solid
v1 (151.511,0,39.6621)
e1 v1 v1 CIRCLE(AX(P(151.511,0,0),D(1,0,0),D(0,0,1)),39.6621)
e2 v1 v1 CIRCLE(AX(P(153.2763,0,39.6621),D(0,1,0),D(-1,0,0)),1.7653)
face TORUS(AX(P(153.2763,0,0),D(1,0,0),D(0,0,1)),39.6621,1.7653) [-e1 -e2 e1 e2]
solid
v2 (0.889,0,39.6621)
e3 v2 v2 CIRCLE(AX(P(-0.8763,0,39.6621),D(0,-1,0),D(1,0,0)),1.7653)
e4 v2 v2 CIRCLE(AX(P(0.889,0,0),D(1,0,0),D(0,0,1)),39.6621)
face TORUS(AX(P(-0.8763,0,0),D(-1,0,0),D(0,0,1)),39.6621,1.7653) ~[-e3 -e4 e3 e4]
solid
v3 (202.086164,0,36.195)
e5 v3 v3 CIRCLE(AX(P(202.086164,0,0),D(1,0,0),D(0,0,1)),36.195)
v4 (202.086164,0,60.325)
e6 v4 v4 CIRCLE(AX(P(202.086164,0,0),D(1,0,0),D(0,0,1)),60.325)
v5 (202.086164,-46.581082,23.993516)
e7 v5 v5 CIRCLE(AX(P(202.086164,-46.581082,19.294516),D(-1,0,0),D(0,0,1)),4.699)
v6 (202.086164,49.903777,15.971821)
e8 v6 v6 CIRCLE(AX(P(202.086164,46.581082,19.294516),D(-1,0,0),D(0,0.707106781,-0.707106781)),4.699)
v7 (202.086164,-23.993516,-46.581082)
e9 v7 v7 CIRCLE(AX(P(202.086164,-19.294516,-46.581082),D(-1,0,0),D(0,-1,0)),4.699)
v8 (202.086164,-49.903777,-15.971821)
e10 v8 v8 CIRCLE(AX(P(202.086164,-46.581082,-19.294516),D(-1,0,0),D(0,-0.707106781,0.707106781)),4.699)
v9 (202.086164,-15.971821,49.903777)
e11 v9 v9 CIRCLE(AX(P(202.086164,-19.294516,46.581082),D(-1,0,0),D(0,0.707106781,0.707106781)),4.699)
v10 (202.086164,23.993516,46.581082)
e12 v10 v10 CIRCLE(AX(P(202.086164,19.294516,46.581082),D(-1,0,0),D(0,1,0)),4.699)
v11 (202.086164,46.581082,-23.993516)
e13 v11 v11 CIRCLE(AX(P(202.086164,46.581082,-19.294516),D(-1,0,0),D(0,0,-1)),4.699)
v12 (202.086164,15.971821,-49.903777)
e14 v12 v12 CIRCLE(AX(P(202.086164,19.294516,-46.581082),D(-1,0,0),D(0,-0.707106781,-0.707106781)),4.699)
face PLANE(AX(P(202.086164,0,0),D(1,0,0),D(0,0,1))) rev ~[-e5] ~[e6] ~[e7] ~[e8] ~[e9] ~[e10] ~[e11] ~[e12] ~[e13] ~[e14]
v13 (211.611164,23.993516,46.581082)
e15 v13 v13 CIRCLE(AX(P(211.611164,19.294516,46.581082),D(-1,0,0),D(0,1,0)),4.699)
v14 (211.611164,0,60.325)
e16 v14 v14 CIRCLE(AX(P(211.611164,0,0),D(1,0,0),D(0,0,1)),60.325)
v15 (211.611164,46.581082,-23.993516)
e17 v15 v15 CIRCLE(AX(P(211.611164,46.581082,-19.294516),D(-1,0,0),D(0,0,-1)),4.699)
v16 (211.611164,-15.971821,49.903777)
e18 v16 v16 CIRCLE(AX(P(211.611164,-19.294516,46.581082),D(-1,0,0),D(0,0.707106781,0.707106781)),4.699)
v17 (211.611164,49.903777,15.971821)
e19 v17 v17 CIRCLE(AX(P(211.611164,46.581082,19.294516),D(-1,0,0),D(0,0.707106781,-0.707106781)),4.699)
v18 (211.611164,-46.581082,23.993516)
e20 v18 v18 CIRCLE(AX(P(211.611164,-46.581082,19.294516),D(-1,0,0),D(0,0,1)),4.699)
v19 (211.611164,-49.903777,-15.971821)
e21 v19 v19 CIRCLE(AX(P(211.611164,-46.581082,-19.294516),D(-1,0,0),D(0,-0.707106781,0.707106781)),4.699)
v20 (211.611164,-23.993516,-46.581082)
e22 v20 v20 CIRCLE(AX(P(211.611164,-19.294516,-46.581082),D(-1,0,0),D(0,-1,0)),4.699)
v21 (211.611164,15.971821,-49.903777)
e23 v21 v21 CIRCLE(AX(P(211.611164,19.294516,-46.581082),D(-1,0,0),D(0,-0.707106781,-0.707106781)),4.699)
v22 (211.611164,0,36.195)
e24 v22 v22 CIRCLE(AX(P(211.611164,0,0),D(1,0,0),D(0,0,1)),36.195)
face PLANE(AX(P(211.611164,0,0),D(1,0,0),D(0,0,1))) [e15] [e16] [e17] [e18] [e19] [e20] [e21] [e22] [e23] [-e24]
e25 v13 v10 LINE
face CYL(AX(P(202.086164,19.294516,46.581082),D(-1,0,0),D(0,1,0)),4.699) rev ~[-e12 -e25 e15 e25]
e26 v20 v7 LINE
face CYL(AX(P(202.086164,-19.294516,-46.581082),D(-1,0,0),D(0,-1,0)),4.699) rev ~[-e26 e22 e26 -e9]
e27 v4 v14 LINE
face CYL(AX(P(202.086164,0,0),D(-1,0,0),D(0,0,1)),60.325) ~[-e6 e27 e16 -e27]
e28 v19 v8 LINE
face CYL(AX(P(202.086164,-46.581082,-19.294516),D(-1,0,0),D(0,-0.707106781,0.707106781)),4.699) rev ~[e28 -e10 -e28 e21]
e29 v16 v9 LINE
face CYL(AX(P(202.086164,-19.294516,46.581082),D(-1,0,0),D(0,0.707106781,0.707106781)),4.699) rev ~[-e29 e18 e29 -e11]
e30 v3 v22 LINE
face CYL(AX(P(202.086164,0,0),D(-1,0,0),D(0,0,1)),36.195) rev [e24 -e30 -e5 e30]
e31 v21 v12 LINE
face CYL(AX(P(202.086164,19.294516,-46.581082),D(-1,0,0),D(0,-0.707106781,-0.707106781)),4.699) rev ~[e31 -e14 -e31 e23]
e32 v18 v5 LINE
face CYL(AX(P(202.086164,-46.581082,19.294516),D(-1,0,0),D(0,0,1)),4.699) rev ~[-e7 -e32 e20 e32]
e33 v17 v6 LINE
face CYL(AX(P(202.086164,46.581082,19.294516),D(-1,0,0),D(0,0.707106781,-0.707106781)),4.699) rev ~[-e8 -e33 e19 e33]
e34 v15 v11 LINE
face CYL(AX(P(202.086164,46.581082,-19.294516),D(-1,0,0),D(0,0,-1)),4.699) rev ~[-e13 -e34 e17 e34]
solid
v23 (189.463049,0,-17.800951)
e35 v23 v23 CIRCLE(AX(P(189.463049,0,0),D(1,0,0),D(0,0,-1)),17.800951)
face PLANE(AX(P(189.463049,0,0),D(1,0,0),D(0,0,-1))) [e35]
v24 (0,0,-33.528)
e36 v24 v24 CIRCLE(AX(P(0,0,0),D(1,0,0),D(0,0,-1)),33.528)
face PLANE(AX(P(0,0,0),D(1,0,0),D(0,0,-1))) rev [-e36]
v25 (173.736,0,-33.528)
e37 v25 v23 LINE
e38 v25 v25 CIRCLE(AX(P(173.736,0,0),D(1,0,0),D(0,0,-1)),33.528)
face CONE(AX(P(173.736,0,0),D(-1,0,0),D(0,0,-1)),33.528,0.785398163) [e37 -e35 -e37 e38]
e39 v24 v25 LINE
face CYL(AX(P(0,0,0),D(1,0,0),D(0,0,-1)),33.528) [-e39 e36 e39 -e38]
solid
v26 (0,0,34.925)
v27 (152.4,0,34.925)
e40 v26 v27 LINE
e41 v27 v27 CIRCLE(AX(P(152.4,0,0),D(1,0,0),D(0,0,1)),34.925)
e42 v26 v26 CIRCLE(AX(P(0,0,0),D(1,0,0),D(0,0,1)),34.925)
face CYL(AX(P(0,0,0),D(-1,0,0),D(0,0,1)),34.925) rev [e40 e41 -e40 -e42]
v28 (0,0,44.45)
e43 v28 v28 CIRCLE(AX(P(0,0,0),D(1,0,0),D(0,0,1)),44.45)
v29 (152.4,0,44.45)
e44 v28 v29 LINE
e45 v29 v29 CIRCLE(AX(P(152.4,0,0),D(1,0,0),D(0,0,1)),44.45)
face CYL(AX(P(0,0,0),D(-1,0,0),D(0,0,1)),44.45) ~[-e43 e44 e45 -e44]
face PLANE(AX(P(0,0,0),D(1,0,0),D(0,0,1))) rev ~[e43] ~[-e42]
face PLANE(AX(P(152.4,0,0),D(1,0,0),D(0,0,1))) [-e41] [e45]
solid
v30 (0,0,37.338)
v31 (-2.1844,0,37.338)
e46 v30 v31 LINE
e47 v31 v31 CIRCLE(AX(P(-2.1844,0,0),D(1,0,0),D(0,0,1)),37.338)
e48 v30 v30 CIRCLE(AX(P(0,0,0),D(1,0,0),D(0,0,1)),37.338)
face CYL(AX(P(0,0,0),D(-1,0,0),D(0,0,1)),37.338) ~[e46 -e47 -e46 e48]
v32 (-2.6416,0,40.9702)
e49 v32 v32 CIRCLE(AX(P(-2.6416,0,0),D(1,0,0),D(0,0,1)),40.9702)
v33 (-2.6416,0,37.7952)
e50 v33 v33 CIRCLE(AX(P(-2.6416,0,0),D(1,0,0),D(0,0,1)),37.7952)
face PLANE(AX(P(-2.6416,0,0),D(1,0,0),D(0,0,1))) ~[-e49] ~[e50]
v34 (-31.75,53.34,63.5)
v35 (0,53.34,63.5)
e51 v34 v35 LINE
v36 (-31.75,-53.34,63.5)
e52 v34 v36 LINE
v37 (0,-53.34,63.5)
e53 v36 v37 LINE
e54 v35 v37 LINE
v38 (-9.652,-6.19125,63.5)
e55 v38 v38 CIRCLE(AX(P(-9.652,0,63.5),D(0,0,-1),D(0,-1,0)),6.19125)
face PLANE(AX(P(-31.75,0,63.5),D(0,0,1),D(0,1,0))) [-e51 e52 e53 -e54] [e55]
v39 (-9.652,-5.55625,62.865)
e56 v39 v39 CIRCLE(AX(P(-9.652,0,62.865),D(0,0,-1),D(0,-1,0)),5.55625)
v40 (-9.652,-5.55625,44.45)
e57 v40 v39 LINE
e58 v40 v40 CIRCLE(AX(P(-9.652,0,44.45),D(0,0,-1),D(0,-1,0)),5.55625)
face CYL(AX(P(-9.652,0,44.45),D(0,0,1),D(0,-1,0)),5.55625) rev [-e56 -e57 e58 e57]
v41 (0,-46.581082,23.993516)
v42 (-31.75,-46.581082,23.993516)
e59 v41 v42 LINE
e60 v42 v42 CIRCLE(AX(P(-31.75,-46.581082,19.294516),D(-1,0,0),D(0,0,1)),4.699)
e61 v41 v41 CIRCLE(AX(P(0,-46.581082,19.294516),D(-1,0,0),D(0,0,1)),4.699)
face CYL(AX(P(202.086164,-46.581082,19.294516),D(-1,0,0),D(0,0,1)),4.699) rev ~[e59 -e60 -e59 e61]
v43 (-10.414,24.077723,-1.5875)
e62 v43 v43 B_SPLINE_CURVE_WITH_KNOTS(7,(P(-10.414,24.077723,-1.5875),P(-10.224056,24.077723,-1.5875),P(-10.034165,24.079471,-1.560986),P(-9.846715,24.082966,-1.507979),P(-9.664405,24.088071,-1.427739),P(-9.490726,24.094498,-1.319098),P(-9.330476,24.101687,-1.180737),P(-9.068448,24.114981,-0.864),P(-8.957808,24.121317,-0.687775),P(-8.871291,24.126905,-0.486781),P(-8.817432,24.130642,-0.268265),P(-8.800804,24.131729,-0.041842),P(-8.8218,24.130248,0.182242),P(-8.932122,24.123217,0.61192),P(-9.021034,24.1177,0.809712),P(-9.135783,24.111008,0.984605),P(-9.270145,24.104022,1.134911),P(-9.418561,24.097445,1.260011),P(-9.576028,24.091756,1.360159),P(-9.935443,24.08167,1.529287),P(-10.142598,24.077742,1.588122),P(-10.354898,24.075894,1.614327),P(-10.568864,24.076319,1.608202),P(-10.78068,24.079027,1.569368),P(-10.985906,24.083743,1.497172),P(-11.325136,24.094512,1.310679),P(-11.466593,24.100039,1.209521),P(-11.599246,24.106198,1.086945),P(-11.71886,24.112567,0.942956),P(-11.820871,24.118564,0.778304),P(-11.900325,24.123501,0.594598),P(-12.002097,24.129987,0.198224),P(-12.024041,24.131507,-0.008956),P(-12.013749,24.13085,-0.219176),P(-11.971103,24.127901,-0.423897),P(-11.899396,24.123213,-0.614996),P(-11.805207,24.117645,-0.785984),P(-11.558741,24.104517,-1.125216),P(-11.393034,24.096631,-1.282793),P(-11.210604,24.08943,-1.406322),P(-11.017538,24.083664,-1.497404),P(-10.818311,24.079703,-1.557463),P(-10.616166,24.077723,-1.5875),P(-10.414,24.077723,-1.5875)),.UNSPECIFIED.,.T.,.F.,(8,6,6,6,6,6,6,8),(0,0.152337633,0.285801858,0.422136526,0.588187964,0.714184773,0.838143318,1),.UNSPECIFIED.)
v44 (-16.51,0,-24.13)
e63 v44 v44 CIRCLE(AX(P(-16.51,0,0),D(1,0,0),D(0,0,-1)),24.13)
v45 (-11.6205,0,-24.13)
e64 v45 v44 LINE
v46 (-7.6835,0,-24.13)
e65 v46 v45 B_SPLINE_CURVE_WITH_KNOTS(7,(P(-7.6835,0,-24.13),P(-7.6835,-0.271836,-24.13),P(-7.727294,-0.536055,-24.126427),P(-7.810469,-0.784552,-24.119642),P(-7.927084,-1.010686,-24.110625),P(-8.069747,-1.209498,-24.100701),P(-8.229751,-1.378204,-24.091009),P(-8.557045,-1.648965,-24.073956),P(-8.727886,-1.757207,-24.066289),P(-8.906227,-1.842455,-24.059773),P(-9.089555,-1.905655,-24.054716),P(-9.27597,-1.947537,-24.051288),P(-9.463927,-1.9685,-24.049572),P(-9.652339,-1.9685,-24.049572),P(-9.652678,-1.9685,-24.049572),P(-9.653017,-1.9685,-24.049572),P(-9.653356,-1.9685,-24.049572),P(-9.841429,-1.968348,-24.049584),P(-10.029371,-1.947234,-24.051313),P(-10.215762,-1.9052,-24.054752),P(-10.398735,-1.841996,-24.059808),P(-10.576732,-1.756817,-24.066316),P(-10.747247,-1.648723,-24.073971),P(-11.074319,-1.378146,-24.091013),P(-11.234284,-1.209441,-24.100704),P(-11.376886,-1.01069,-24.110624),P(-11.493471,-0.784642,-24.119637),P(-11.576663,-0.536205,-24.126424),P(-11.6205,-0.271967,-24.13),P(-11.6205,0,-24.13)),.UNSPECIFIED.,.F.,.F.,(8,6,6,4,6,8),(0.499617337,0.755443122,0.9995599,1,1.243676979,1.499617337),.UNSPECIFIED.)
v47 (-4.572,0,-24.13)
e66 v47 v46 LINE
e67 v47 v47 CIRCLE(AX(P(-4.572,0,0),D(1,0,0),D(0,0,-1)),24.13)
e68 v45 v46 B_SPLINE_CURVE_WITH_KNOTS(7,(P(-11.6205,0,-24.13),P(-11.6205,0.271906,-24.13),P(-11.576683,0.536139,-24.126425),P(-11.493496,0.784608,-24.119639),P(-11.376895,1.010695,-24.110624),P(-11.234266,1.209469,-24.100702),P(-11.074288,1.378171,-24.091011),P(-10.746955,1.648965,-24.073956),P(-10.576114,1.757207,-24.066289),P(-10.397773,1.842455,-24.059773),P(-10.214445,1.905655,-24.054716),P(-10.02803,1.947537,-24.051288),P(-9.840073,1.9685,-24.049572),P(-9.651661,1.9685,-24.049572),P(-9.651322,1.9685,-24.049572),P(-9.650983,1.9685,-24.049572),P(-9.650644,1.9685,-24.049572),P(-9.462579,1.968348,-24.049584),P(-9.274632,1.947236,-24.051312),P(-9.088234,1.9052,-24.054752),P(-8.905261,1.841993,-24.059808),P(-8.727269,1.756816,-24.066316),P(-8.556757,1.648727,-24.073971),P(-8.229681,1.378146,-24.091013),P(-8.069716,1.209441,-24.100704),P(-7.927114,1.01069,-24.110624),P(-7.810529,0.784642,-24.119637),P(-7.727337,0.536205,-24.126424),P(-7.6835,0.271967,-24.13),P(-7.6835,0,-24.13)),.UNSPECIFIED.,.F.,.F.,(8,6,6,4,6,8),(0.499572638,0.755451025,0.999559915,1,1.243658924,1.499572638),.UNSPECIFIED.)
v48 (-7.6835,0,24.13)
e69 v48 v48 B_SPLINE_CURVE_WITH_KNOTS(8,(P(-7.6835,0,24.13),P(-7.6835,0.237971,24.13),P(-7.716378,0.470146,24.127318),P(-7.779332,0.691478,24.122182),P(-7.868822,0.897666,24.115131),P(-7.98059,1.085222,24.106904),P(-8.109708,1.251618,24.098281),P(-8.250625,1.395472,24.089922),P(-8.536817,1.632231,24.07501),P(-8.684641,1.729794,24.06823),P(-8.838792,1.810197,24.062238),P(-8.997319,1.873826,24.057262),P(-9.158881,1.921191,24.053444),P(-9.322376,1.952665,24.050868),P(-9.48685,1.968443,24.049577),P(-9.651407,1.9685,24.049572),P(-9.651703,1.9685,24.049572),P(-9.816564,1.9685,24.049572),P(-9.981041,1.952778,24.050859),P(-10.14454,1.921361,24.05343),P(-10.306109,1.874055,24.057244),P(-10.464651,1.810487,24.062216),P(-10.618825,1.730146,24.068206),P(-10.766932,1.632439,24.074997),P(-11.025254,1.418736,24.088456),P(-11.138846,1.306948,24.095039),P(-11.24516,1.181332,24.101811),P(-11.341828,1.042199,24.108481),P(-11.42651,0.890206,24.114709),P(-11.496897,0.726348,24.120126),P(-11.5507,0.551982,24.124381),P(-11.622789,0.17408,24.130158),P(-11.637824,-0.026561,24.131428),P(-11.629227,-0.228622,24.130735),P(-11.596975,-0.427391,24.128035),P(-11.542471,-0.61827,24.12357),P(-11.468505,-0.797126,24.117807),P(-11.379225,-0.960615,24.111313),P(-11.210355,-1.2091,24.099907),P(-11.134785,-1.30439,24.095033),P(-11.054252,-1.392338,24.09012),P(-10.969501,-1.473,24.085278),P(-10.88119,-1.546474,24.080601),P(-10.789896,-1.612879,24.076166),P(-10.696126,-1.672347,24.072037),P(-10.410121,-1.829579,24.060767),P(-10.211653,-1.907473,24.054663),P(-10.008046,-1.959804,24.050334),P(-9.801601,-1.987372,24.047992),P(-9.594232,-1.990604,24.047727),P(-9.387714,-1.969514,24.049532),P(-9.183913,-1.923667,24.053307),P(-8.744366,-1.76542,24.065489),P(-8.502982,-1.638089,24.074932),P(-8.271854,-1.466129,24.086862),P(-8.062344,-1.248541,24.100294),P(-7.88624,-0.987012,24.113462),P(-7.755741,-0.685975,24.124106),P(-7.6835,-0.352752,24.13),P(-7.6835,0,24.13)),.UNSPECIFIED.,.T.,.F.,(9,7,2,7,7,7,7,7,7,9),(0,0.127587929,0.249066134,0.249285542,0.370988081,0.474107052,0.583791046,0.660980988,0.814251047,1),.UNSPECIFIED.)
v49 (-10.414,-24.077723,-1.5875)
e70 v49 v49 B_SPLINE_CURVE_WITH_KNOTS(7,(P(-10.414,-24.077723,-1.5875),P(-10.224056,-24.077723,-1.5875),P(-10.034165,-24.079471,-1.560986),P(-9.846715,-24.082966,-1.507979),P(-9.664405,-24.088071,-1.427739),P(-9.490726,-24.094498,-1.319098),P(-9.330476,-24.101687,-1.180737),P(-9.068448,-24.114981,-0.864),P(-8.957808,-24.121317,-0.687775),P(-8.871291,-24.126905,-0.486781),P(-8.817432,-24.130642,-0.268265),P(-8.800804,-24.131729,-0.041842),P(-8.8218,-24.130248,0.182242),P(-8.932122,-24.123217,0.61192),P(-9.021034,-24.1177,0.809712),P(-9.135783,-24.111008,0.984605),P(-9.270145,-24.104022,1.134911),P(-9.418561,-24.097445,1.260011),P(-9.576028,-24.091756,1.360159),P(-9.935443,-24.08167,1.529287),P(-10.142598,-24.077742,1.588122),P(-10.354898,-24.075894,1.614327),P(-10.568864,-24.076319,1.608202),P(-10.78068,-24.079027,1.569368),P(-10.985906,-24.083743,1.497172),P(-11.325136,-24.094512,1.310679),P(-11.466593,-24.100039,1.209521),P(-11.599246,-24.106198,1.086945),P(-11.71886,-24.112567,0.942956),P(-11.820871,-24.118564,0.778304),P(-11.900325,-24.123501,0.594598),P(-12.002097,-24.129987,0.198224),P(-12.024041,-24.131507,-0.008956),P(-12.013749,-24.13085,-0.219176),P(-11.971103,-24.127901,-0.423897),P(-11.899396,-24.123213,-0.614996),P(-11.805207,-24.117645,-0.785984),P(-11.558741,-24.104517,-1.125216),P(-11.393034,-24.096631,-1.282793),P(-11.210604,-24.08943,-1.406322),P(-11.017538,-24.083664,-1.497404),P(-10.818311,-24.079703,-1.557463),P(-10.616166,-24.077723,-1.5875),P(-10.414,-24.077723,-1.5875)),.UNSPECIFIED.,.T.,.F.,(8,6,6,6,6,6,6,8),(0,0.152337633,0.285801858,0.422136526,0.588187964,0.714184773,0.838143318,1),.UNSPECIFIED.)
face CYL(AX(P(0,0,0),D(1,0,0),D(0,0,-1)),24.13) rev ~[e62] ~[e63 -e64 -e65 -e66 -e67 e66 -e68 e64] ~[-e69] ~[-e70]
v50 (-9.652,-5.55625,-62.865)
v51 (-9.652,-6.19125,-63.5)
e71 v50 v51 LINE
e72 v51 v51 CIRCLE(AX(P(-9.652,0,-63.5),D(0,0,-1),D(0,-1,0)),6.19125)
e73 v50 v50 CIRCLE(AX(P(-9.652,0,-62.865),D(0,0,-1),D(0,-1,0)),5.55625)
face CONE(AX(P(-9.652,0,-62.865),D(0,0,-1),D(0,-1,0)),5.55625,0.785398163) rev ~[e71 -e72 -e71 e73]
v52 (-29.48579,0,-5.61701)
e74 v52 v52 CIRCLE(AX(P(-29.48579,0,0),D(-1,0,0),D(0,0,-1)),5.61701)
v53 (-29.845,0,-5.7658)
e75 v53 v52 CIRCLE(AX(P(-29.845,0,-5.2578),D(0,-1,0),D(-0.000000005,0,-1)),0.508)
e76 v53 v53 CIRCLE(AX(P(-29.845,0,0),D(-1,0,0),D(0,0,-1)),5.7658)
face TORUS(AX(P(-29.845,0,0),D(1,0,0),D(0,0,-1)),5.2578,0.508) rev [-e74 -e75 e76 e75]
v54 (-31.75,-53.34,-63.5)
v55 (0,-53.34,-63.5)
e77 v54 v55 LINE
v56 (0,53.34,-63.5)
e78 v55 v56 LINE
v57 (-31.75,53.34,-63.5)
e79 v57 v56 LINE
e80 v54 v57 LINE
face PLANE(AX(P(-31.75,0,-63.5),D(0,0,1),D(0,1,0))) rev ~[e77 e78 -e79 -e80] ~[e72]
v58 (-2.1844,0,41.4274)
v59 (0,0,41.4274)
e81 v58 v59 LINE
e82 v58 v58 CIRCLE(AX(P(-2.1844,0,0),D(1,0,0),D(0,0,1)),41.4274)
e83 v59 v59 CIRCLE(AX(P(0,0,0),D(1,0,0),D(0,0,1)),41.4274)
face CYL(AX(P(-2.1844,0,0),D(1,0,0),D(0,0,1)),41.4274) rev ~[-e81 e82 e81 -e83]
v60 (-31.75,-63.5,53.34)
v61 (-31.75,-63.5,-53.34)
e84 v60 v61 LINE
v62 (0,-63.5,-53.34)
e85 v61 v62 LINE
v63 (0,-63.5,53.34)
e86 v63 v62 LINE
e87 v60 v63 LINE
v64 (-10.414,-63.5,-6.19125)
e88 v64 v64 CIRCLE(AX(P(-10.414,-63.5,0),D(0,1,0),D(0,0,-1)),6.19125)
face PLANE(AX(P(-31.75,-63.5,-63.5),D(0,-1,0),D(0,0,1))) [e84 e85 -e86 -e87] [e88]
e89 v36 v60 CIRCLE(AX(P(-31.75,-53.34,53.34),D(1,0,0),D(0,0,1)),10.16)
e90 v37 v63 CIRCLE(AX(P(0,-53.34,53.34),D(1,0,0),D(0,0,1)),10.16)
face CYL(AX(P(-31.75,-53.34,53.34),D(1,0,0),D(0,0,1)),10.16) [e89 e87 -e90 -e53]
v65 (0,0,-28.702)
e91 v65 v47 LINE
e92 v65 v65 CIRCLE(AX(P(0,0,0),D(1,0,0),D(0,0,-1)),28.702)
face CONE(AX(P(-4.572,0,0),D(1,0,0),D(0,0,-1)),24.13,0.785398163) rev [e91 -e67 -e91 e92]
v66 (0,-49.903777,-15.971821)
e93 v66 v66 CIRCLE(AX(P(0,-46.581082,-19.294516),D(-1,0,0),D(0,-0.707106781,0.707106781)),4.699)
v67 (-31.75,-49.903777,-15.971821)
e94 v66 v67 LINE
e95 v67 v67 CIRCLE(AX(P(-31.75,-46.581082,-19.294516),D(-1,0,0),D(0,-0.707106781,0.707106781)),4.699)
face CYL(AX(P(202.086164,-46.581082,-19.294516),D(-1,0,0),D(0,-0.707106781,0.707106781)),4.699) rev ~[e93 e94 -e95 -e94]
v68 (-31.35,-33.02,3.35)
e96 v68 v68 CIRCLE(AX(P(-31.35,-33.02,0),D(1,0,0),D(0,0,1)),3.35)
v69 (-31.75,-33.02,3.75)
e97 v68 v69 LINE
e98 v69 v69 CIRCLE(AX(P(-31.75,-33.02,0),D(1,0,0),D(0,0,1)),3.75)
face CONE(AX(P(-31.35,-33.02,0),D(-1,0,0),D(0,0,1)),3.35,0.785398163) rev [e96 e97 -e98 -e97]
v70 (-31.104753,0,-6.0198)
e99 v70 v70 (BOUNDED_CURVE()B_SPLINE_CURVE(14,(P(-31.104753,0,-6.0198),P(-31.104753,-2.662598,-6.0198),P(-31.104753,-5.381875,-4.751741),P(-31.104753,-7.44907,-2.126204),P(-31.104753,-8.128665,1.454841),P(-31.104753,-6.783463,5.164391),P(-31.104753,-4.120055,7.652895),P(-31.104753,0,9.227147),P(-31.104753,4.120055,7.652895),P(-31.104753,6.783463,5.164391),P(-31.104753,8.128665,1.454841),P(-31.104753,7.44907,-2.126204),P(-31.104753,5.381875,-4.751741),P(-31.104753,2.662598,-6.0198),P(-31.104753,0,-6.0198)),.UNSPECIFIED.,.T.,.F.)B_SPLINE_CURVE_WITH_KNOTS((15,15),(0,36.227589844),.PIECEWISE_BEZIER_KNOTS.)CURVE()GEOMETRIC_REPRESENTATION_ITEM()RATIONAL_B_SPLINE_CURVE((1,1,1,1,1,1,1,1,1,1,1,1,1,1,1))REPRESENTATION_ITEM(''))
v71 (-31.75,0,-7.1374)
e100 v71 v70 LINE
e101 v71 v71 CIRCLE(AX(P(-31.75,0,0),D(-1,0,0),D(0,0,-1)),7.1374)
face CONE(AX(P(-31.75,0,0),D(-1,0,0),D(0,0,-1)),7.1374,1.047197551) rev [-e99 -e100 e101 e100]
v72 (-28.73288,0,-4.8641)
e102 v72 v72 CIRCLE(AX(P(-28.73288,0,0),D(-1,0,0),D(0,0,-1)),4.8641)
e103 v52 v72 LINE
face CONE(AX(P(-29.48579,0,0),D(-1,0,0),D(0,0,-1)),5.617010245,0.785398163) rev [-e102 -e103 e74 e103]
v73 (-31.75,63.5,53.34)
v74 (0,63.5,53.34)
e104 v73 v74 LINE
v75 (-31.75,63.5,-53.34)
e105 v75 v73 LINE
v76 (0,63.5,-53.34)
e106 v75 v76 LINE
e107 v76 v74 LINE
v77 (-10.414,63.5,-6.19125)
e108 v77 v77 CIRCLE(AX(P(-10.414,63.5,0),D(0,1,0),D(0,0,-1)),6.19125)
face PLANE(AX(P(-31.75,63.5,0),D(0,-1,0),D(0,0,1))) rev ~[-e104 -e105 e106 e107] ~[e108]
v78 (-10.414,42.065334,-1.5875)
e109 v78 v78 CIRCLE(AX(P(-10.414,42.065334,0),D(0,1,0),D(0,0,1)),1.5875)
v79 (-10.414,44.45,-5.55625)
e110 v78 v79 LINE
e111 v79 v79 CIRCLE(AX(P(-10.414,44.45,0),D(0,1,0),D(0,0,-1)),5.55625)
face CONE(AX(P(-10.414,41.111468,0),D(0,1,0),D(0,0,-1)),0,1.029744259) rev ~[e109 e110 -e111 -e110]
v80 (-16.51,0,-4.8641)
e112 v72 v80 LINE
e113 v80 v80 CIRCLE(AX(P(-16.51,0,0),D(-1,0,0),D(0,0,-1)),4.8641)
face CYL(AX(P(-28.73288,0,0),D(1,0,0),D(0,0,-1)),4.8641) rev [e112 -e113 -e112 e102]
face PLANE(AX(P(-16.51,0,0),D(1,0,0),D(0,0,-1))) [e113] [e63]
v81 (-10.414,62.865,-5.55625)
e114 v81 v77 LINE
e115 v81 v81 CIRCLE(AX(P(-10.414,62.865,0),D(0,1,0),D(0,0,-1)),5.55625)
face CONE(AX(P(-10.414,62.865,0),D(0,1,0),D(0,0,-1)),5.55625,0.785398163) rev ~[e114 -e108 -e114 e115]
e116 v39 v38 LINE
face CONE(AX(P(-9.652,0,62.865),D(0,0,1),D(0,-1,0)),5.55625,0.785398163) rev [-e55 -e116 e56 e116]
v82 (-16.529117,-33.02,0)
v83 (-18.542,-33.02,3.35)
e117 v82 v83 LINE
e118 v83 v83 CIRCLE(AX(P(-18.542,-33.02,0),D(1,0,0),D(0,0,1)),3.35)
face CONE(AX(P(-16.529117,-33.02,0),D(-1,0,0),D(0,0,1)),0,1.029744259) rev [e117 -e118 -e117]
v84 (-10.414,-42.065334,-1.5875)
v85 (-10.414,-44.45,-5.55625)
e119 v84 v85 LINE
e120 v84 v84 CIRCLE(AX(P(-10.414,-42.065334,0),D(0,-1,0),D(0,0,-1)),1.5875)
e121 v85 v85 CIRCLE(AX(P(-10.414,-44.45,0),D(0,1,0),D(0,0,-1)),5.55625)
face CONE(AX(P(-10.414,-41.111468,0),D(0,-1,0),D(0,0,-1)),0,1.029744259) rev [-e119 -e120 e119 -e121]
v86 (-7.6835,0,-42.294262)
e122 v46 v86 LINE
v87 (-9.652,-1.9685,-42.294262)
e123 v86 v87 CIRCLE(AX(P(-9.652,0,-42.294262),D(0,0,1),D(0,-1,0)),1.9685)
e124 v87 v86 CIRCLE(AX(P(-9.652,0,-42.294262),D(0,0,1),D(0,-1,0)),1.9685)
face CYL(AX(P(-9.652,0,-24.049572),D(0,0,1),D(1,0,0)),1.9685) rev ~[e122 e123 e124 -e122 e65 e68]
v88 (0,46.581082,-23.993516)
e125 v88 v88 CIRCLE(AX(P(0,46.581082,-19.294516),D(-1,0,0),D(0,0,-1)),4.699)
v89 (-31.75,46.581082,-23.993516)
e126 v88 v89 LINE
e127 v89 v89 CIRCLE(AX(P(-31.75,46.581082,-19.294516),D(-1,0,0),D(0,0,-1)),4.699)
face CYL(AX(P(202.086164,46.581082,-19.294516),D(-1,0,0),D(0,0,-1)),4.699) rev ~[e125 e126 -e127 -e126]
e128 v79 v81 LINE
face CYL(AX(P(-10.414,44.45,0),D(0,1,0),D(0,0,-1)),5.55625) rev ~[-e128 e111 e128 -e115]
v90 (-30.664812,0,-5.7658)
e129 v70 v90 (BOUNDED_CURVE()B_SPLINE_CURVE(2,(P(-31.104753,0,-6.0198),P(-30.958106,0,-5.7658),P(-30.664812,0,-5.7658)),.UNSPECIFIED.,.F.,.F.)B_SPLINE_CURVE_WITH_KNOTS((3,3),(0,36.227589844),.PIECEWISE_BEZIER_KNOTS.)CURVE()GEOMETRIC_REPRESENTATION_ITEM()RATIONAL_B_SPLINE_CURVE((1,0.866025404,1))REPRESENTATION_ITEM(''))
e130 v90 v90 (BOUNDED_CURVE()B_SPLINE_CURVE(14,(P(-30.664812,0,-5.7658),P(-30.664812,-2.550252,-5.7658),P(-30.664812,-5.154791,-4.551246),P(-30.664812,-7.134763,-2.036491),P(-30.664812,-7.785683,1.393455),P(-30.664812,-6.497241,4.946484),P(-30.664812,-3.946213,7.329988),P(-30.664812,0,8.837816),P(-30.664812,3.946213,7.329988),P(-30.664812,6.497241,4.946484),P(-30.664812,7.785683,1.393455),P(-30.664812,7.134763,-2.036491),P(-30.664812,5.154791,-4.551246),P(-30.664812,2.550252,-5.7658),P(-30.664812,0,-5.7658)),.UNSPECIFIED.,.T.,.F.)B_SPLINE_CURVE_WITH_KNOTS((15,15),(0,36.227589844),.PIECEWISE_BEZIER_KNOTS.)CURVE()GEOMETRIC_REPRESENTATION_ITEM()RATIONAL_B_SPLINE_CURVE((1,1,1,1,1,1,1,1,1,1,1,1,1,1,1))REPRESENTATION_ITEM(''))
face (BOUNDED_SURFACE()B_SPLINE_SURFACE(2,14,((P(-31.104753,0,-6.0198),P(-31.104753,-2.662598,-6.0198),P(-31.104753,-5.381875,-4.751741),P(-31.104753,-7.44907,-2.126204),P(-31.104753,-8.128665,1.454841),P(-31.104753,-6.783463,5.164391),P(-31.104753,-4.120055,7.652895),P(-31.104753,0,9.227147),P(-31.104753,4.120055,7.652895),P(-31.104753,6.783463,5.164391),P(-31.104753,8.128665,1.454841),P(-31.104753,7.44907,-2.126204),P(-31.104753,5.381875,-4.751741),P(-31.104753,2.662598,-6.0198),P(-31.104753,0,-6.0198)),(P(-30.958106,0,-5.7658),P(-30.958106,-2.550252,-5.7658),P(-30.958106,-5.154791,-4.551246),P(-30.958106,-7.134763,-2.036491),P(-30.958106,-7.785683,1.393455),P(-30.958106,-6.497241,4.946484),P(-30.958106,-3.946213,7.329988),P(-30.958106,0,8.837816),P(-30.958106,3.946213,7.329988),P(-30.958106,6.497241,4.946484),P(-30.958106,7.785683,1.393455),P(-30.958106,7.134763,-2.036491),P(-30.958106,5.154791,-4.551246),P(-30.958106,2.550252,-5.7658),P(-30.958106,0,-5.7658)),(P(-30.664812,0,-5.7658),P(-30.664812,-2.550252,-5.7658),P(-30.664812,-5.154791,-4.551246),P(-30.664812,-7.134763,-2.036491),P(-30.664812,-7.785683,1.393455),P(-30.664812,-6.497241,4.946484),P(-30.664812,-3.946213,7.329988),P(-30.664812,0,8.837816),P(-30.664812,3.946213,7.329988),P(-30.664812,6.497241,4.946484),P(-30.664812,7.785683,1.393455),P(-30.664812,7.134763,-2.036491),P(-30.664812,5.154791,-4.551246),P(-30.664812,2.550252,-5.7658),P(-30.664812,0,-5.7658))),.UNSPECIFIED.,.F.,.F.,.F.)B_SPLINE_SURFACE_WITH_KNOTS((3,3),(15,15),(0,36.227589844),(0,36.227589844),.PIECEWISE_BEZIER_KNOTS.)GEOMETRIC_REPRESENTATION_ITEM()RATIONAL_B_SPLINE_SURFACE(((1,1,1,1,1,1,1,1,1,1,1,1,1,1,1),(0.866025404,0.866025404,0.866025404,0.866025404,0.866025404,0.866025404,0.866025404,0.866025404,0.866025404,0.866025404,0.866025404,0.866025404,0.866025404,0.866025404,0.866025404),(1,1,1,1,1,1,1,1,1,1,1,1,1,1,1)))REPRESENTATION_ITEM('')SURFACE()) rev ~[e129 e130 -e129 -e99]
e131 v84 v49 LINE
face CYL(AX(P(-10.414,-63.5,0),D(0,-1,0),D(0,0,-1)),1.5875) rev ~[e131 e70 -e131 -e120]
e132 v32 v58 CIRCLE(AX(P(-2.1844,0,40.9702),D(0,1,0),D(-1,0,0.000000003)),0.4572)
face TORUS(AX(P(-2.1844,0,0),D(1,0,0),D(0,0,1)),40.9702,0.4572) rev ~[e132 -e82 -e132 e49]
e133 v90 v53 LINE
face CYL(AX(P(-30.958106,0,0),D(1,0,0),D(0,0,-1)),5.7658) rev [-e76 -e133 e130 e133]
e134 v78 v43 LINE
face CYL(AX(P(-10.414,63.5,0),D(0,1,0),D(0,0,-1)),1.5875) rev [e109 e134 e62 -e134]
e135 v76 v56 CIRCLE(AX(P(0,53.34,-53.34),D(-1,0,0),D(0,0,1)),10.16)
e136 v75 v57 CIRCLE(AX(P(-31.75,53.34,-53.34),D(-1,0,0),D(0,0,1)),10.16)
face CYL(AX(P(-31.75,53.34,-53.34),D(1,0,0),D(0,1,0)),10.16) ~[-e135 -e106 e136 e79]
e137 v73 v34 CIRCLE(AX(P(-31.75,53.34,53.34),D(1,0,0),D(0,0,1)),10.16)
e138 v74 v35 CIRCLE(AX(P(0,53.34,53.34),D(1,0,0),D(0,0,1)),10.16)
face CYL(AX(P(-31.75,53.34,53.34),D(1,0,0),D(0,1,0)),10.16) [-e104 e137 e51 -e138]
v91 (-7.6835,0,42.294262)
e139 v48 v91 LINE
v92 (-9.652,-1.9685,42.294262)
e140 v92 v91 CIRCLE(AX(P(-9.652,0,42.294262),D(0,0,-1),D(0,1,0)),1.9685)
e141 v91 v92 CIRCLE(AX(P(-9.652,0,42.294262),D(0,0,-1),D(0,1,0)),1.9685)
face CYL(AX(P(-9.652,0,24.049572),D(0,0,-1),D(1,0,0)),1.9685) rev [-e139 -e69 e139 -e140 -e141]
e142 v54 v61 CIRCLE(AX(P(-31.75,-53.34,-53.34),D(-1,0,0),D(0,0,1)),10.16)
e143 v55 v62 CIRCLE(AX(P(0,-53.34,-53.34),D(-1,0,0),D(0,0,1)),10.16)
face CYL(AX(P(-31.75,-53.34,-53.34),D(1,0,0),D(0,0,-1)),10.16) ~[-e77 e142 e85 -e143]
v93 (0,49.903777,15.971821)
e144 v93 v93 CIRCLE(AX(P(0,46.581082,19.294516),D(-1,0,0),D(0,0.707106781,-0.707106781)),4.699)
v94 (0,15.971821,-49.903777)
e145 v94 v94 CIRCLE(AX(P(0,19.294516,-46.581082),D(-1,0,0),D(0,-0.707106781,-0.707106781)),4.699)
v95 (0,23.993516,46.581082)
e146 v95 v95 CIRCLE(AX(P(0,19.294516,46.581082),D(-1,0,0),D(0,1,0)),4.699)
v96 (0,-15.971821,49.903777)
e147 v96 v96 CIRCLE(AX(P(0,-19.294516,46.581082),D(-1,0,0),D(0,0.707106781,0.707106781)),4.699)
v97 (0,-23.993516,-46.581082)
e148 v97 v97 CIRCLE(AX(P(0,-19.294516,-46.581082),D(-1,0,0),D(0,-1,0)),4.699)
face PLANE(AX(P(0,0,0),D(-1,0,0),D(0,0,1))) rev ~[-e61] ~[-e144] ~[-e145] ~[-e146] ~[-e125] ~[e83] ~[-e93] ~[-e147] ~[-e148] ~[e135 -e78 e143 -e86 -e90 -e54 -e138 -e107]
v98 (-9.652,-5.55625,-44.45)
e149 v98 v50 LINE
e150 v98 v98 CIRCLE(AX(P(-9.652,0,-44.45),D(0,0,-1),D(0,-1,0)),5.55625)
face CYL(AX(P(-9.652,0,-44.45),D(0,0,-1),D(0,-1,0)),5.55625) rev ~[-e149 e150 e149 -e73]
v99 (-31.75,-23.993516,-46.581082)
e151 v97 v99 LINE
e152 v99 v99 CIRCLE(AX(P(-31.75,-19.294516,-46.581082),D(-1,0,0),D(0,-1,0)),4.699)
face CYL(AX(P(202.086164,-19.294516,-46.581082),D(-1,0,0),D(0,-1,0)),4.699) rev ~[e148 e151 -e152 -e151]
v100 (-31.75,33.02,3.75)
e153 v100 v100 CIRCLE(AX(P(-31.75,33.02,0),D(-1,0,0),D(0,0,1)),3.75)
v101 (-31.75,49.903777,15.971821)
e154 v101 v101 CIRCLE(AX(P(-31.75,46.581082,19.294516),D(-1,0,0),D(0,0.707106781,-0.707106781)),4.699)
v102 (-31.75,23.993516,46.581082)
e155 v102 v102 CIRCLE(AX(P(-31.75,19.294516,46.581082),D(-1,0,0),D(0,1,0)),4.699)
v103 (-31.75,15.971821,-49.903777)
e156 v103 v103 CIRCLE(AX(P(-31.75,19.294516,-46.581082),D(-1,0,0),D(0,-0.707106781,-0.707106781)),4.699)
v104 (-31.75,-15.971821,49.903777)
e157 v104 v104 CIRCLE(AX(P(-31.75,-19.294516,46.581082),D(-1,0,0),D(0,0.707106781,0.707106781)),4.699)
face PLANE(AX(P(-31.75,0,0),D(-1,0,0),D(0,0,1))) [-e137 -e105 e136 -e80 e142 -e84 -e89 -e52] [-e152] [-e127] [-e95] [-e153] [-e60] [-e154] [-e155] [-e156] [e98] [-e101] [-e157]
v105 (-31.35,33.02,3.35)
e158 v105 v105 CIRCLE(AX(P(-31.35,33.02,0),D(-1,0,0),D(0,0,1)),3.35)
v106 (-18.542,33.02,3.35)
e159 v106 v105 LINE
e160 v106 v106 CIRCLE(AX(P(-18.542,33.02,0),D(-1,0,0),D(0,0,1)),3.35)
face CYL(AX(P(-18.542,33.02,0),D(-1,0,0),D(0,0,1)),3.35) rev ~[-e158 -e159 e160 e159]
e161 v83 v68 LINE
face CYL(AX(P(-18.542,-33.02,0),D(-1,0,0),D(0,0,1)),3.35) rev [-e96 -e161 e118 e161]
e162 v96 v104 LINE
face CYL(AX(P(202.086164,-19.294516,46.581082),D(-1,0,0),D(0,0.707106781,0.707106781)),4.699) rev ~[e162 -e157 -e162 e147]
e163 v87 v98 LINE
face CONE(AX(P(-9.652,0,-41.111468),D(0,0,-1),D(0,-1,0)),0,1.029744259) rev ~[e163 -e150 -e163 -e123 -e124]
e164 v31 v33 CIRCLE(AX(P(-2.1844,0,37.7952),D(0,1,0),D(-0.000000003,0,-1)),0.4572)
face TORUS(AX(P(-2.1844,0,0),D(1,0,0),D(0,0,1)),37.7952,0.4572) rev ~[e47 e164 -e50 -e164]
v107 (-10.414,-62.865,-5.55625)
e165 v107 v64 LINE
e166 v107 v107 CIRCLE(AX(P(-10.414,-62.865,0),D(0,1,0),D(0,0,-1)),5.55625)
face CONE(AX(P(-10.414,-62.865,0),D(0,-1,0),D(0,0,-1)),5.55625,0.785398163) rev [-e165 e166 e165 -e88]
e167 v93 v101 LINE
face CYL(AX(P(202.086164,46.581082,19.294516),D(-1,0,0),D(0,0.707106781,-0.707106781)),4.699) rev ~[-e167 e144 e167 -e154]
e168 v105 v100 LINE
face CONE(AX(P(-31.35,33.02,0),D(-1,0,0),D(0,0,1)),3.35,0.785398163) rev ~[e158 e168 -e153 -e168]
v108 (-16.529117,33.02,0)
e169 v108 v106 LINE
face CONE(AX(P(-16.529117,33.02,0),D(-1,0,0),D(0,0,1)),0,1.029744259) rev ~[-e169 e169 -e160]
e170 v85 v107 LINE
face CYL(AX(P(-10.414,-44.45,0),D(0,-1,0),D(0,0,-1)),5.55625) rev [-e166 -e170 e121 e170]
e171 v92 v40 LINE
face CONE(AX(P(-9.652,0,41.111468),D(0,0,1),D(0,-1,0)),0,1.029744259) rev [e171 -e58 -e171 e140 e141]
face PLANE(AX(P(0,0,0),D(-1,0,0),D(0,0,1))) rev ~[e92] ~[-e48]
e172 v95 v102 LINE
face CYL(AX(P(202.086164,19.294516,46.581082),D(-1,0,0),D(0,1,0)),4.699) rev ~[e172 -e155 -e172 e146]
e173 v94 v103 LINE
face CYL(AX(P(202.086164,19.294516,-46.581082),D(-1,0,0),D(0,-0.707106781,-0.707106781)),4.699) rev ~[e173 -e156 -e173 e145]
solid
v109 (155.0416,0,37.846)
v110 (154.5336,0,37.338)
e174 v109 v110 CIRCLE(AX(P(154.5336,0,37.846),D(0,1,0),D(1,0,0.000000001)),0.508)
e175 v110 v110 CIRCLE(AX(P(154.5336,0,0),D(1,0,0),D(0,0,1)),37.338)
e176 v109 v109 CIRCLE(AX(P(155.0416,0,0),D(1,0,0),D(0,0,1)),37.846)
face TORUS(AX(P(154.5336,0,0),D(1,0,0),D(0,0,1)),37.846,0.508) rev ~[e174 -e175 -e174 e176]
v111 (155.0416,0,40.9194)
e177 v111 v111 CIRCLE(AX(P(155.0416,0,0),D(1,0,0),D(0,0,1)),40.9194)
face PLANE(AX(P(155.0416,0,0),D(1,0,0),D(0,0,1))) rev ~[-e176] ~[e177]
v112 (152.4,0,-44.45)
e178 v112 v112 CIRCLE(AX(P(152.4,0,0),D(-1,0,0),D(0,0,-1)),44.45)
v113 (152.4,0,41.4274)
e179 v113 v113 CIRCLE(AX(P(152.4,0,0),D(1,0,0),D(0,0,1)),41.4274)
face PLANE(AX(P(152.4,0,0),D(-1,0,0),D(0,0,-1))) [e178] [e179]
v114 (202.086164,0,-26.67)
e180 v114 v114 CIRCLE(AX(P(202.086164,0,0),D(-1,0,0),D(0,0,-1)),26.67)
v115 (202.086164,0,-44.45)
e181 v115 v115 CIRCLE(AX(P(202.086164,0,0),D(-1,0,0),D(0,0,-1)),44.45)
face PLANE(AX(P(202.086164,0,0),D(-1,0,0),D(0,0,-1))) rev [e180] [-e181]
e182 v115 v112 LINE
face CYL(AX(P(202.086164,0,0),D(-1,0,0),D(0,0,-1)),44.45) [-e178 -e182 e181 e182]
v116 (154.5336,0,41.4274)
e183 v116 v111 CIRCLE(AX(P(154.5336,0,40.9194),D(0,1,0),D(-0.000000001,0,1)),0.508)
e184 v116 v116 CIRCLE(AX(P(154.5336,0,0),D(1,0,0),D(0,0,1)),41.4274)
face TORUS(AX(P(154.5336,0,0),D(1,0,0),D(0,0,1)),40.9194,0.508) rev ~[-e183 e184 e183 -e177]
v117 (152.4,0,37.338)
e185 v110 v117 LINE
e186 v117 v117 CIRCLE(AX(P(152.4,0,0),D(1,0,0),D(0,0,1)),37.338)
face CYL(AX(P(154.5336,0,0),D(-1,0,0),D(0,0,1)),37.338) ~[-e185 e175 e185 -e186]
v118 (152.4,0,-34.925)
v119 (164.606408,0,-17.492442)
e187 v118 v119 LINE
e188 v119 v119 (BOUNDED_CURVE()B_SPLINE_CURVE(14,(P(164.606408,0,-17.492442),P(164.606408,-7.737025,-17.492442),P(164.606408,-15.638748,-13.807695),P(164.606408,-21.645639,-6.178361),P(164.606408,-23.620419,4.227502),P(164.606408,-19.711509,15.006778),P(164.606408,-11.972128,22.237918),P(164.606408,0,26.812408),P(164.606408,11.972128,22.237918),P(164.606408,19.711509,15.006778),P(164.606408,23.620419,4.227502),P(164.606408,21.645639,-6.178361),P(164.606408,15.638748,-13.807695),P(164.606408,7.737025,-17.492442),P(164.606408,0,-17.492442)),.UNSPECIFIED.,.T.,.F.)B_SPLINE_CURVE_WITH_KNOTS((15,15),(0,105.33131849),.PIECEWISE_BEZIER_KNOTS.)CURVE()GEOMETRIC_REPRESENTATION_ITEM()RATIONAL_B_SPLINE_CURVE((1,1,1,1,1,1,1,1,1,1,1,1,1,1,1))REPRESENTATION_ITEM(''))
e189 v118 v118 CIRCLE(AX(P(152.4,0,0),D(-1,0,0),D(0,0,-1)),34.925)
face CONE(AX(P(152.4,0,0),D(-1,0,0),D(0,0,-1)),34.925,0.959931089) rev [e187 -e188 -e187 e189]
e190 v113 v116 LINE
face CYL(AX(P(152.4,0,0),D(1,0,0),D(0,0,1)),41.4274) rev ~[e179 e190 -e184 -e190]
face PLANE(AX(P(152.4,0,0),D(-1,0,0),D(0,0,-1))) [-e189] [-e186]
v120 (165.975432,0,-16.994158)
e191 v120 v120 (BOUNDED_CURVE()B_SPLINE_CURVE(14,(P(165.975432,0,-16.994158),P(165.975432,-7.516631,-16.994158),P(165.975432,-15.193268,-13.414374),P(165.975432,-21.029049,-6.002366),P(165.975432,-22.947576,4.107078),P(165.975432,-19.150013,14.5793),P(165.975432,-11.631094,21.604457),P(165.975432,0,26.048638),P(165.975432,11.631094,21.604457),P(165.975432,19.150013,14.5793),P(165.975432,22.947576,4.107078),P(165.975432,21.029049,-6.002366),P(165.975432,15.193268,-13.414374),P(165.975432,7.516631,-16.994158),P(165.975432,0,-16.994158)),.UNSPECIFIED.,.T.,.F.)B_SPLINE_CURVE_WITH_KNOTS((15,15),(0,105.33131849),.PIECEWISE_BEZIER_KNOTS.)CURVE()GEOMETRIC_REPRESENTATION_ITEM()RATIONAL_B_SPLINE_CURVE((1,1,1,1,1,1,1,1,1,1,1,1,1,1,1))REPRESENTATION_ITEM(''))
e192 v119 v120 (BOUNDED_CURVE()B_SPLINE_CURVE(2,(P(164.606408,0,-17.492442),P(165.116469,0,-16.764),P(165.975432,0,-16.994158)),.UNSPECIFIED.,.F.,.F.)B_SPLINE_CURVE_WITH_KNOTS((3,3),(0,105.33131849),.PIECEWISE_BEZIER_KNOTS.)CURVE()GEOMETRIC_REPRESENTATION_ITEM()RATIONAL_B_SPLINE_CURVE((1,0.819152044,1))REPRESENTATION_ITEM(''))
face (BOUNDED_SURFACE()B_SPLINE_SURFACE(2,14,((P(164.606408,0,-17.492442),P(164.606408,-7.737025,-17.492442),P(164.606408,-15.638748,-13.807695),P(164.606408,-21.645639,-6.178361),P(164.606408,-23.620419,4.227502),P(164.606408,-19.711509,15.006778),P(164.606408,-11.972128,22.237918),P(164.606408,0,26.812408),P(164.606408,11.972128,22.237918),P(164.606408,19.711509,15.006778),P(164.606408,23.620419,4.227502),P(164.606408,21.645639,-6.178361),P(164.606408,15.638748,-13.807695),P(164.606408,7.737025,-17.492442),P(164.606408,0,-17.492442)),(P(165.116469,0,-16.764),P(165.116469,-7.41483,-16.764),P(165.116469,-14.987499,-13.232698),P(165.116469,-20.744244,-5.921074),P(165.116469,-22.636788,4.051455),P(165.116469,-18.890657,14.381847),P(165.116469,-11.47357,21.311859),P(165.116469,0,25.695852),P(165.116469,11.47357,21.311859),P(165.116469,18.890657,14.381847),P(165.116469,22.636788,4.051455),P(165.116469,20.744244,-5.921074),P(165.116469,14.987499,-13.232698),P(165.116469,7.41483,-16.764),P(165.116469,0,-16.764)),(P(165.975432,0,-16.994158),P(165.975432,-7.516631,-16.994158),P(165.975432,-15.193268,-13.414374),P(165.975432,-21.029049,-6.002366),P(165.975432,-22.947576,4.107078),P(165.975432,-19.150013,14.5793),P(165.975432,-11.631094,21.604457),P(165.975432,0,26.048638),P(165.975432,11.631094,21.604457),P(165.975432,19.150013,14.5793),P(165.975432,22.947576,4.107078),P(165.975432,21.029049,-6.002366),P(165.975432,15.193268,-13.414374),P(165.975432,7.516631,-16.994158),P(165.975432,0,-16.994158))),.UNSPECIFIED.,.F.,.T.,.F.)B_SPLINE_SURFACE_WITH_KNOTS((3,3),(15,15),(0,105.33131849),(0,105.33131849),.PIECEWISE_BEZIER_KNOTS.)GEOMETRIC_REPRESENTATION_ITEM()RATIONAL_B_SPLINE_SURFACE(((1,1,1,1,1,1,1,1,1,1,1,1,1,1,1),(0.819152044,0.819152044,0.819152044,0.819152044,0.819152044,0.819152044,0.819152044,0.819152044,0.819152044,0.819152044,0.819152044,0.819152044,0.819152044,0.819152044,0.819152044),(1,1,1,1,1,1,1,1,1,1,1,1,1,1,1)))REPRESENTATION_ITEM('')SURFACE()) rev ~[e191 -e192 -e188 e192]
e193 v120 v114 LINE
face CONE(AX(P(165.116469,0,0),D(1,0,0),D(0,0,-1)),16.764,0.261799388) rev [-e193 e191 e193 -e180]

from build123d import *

# Parameters (mm, degrees)
FILLET1_R               = 1.27
CUT_EXTRUDE1_REACH      = 246.555
SKETCH2_R               = 3.81
CIRPATTERN1_COUNT       = 8
SKETCH4_R               = 63.5
BOSS_EXTRUDE1_DEPTH     = 31.75
SKETCH11_W              = 127
SKETCH11_H              = 127
SKETCH11_R              = 63.5
BOSS_EXTRUDE2_DEPTH     = 31.75
SKETCH12_R              = 24.13
CUT_EXTRUDE4_DEPTH      = 16.51
CUT_EXTRUDE5_START      = -39.450428
SKETCH13_R              = 1.9685
CUT_EXTRUDE5_DEPTH      = 39.450428
CHAMFER1_SIZE           = 4.572
FILLET2_R               = 0.889
FILLET3_R               = 0.508
CUT_EXTRUDE9_REACH      = 270.149
CUT_EXTRUDE9_END_RADIUS = 24.13
SKETCH31_R              = 1.5875
SKETCH33_R              = 44.45
SKETCH33_R_2            = 34.925
BOSS_EXTRUDE4_DEPTH     = 152.4
FILLET5_R               = 1.27
FILLET6_R               = 10.16
SKETCH39_R              = 60.325
SKETCH39_R_2            = 36.195
BOSS_EXTRUDE6_DEPTH     = 9.525
SKETCH40_R              = 4.699
CUT_EXTRUDE13_DEPTH     = 251.487228873
CIRPATTERN3_COUNT       = 8
SKETCH44_R              = 1.7653


with BuildPart() as part:
    # Chamber Revolve → Revolve1 (revolve)
    with BuildSketch(Plane.XY, mode=Mode.PRIVATE) as revolve1_sk:
        with BuildLine():
            Line((227.4696953, 63.5), (227.4696953, 26.67))
            Line((227.4696953, 26.67), (191.916500941, 17.143550283))
            ThreePointArc((191.916500941, 17.143550283), (190.601700192, 17.143550283), (189.463049342, 17.800950658))
            Line((189.463049342, 17.800950658), (173.736, 33.528))
            Line((173.736, 33.528), (0, 33.528))
            Line((0, 33.528), (0, 42.164))
            Line((0, 42.164), (3.8608, 42.164))
            Line((3.8608, 42.164), (3.8608, 48.2346))
            Line((3.8608, 48.2346), (0, 48.2346))
            Line((0, 48.2346), (0, 63.5))
            Line((0, 63.5), (10.16, 63.5))
            Line((10.16, 63.5), (10.16, 47.244))
            Line((10.16, 47.244), (24.13, 47.244))
            Line((24.13, 47.244), (24.13, 63.5))
            Line((24.13, 63.5), (227.4696953, 63.5))
        make_face()
    revolve(revolve1_sk.sketch.rotate(Axis((0, 0, 0), (1, 0, 0)), 90), axis=Axis((0, 0, 0), (1, 0, 0)))

    # Fillet1
    fillet1_edges = [part.edges().sort_by_distance(p)[0] for p in [
        (24.13, 0, -47.244),
        (10.16, 0, -47.244),
    ]]
    fillet(fillet1_edges, radius=FILLET1_R)

    # Sketch2 → Cut-Extrude1 (cut, up to next)
    with BuildSketch(Plane.ZY, mode=Mode.PRIVATE) as cut_extrude1_sk1:
        with Locations((-21.773156568, 52.565049882)):
            Circle(SKETCH2_R)
    cut_extrude1_tool1 = extrude(cut_extrude1_sk1.sketch, amount=-CUT_EXTRUDE1_REACH, mode=Mode.PRIVATE) & part.part
    cut_extrude1 = cut_extrude1_tool1.solids().sort_by_distance((0, 52.56505, -21.773157))[0]
    add(cut_extrude1, mode=Mode.SUBTRACT)

    # CirPattern1: Cut-Extrude1 ×8 about axis
    cirpattern1_axis = Axis((0, 0, 0), (1, 0, 0))
    for i in range(1, CIRPATTERN1_COUNT):
        add(cut_extrude1.rotate(cirpattern1_axis, i * 360 / CIRPATTERN1_COUNT), mode=Mode.SUBTRACT)

    # Fillet2
    fillet2_edges = [part.edges().sort_by_distance(p)[0] for p in [
        (3.8608, 0, -42.164),
        (3.8608, 0, -48.2346),
    ]]
    fillet(fillet2_edges, radius=FILLET2_R)


with BuildPart() as body_2:
    # Sketch4 → Boss-Extrude1 (new body)
    with BuildSketch(Plane.ZY):
        Circle(SKETCH4_R)
    extrude(amount=BOSS_EXTRUDE1_DEPTH)


with BuildPart() as boss_extrude2_tool:
    # Sketch11 → Boss-Extrude2 (new body)
    with BuildSketch(Plane.ZY.offset(31.75)):
        Rectangle(SKETCH11_W, SKETCH11_H)
        Circle(SKETCH11_R, mode=Mode.SUBTRACT)
    extrude(amount=-BOSS_EXTRUDE2_DEPTH)


with BuildPart() as body_2_1:
    add(body_2.part)


with BuildPart() as body_2_2:
    # Boss-Extrude2: joined with boss_extrude2_tool
    add(body_2_1.part.fuse(boss_extrude2_tool.part, tol=0.00001))


with BuildPart() as boss_extrude2_kept_piece:
    # of the separate pieces the step leaves, the one the design keeps (boss_extrude2_pieces_kept)
    add(body_2_2.part.solids().sort_by_distance((-31.75, -63.5, 63.5))[0])

    # Sketch12 → Cut-Extrude4 (cut)
    with BuildSketch(Plane(origin=(0, 0, 0), x_dir=(0, 0, -1), z_dir=(1, 0, 0))):
        Circle(SKETCH12_R)
    extrude(amount=-CUT_EXTRUDE4_DEPTH, mode=Mode.SUBTRACT)

    # Sketch13 → Cut-Extrude5 (cut)
    with BuildSketch(Plane.XY.offset(63.5).offset(CUT_EXTRUDE5_START)):
        with Locations((-9.652, 0)):
            Circle(SKETCH13_R)
    cut_extrude5 = extrude(amount=CUT_EXTRUDE5_DEPTH, mode=Mode.SUBTRACT)

    # Chamfer1
    chamfer1_edges = [boss_extrude2_kept_piece.edges().sort_by_distance(p)[0] for p in [
        (0, 0, 24.13),
    ]]
    chamfer(chamfer1_edges, length=CHAMFER1_SIZE)

    # Sketch20 → 7/16 (0.4375) Diameter Hole1 (revolve, cut)
    with BuildSketch(Plane(origin=(-9.652, 0, 63.5), x_dir=(0, -1, 0), z_dir=(1, 0, 0))):
        Polygon((0, 0), (0, 22.388531814), (5.55625, 19.05), (5.55625, 0.635), (6.19125, 0), align=None)
    f_7_16_0_4375_diameter_hole1 = revolve(axis=Axis((-9.652, 0, 69.85), (0, 0, -1)), mode=Mode.SUBTRACT)

    # Mirror1: Cut-Extrude5, 7/16 (0.4375) Diameter Hole1 across plane
    add(cut_extrude5.mirror(Plane.XY), mode=Mode.SUBTRACT)
    add(f_7_16_0_4375_diameter_hole1.mirror(Plane.XY), mode=Mode.SUBTRACT)

    # Sketch23 → Ø6.7 (6.7) Diameter Hole1 (revolve, cut)
    with BuildSketch(Plane(origin=(-31.75, -33.02, 0), x_dir=(0, 0, 1), z_dir=(0, 1, 0))):
        Polygon((0, 0), (0, 15.220883074), (3.35, 13.208), (3.35, 0.4), (3.75, 0), align=None)
    f_6_7_6_7_diameter_hole1 = revolve(axis=Axis((-38.1, -33.02, 0), (1, 0, 0)), mode=Mode.SUBTRACT)

    # Mirror2: Ø6.7 (6.7) Diameter Hole1 across plane
    add(f_6_7_6_7_diameter_hole1.mirror(Plane.ZX), mode=Mode.SUBTRACT)

    # Sketch24 → Cut-Revolve1 (revolve, cut)
    with BuildSketch(Plane(origin=(0, 0, 0), x_dir=(1, 0, 0), z_dir=(0, 1, 0))):
        with BuildLine():
            Line((-31.75, 7.1374), (-30.958106371, 5.7658))
            Line((-30.958106371, 5.7658), (-29.845, 5.7658))
            ThreePointArc((-29.845, 5.7658), (-29.650596816, 5.727130803), (-29.485789755, 5.617010245))
            Line((-29.485789755, 5.617010245), (-28.73287951, 4.8641))
            Line((-28.73287951, 4.8641), (-16.51, 4.8641))
            Line((-16.51, 4.8641), (-16.51, 0))
            Line((-16.51, 0), (-31.75, 0))
            Line((-31.75, 0), (-31.75, 7.1374))
        make_face()
    revolve(axis=Axis((227.4696953, 0, 0), (-1, 0, 0)), mode=Mode.SUBTRACT)

    # Fillet3
    fillet3_edges = [boss_extrude2_kept_piece.edges().sort_by_distance(p)[0] for p in [
        (-30.958106371, 0, 5.7658),
    ]]
    fillet(fillet3_edges, radius=FILLET3_R)

    # Sketch30 → 7/16 (0.4375) Diameter Hole2 (revolve, cut)
    with BuildSketch(Plane(origin=(-10.414, -63.5, 0), x_dir=(0, 0, -1), z_dir=(1, 0, 0))):
        Polygon((0, 0), (0, 22.388531814), (5.55625, 19.05), (5.55625, 0.635), (6.19125, 0), align=None)
    f_7_16_0_4375_diameter_hole2 = revolve(axis=Axis((-10.414, -69.85, 0), (0, 1, 0)), mode=Mode.SUBTRACT)

    # Cut-Extrude9: up to this cylinder (the profile starts outside it)
    cut_extrude9_end = Plane(origin=(-10.414, 0, 0), z_dir=(1, 0, 0)) * Cylinder(CUT_EXTRUDE9_END_RADIUS, 589.558, mode=Mode.PRIVATE)
    # Sketch31 → Cut-Extrude9 (cut, up to the surface)
    with BuildSketch(Plane.XZ.offset(63.5), mode=Mode.PRIVATE) as cut_extrude9_sk1:
        with Locations(Location((-10.414, 0, 0), (0, 0, 270))):
            Circle(SKETCH31_R)
    cut_extrude9_tool1 = extrude(cut_extrude9_sk1.sketch, amount=-CUT_EXTRUDE9_REACH, mode=Mode.PRIVATE) - cut_extrude9_end
    cut_extrude9 = cut_extrude9_tool1.solids().sort_by_distance((-10.414, -63.5, 0))[0]
    add(cut_extrude9, mode=Mode.SUBTRACT)

    # Mirror3: 7/16 (0.4375) Diameter Hole2, Cut-Extrude9 across plane
    add(f_7_16_0_4375_diameter_hole2.mirror(Plane.ZX), mode=Mode.SUBTRACT)
    add(cut_extrude9.mirror(Plane.ZX), mode=Mode.SUBTRACT)

    # Fillet6
    fillet6_edges = [boss_extrude2_kept_piece.edges().sort_by_distance(p)[0] for p in [
        (-15.875, -63.5, 63.5),
        (-15.875, 63.5, 63.5),
        (-15.875, -63.5, -63.5),
        (-15.875, 63.5, -63.5),
    ]]
    fillet(fillet6_edges, radius=FILLET6_R)


with BuildPart() as body_3:
    # Sketch21 → Revolve2 (revolve)
    with BuildSketch(Plane(origin=(0, 0, 0), x_dir=(1, 0, 0), z_dir=(0, 1, 0))):
        Polygon((0, 33.528), (173.736, 33.528), (189.463049342, 17.800950658), (189.463049342, 0), (0, 0), align=None)
    revolve(axis=Axis((189.463049342, 0, 0), (1, 0, 0)))


with BuildPart() as body_3_2:
    # Sketch33 → Boss-Extrude4 (new body)
    with BuildSketch(Plane(origin=(0, 0, 0), x_dir=(0, 0, -1), z_dir=(1, 0, 0))):
        with Locations(Location((0, 0, 0), (0, 0, 180))):
            Circle(SKETCH33_R)
        with Locations(Location((0, 0, 0), (0, 0, 180))):
            Circle(SKETCH33_R_2, mode=Mode.SUBTRACT)
    extrude(amount=BOSS_EXTRUDE4_DEPTH)


with BuildPart() as body_4:
    # Sketch34 → Revolve3 (revolve)
    with BuildSketch(Plane.XY, mode=Mode.PRIVATE) as revolve3_sk:
        Polygon((152.4, 44.45), (152.4, 34.925), (165.116469101, 16.764), (202.086164401, 26.67), (202.086164401, 44.45), align=None)
    revolve(revolve3_sk.sketch.rotate(Axis((152.4, 0, 0), (-1, 0, 0)), 90), axis=Axis((152.4, 0, 0), (-1, 0, 0)))

    # Fillet5
    fillet5_edges = [body_4.edges().sort_by_distance(p)[0] for p in [
        (165.116469101, 0, 16.764),
    ]]
    fillet(fillet5_edges, radius=FILLET5_R)

    # Sketch45 → Cut-Revolve3 (revolve, cut)
    with BuildSketch(Plane.XY, mode=Mode.PRIVATE) as cut_revolve3_sk:
        with BuildLine():
            Line((152.4, 41.4274), (154.5336, 41.4274))
            ThreePointArc((154.5336, 41.4274), (154.892810245, 41.278610245), (155.0416, 40.9194))
            Line((155.0416, 40.9194), (155.0416, 37.846))
            ThreePointArc((155.0416, 37.846), (154.892810245, 37.486789755), (154.5336, 37.338))
            Line((154.5336, 37.338), (152.4, 37.338))
            Line((152.4, 37.338), (152.4, 41.4274))
        make_face()
    revolve(cut_revolve3_sk.sketch.rotate(Axis((0, 0, 0), (1, 0, 0)), 90), axis=Axis((0, 0, 0), (1, 0, 0)), mode=Mode.SUBTRACT)


with BuildPart() as body_5:
    # Sketch39 → Boss-Extrude6 (new body)
    with BuildSketch(Plane(origin=(202.086164401, 0, 0), x_dir=(0, 0, -1), z_dir=(1, 0, 0))):
        with Locations(Location((0, 0, 0), (0, 0, 180))):
            Circle(SKETCH39_R)
        with Locations(Location((0, 0, 0), (0, 0, 180))):
            Circle(SKETCH39_R_2, mode=Mode.SUBTRACT)
    extrude(amount=BOSS_EXTRUDE6_DEPTH)


with BuildPart() as cut_extrude13_tool:
    # Sketch40 → Cut-Extrude13 (new, symmetric)
    with BuildSketch(Plane.ZY.offset(-202.086164401)):
        with Locations(Location((-19.294515976, 46.58108215, 0), (0, 0, 180))):
            Circle(SKETCH40_R)
    cut_extrude13 = extrude(amount=CUT_EXTRUDE13_DEPTH, both=True)


with BuildPart() as boss_extrude2_kept_piece_1:
    add(boss_extrude2_kept_piece.part)

    # Cut-Extrude13: cut by cut_extrude13_tool
    add(cut_extrude13_tool.part, mode=Mode.SUBTRACT)


with BuildPart() as body_5_1:
    add(body_5.part)

    # Cut-Extrude13: cut by cut_extrude13_tool
    add(cut_extrude13_tool.part, mode=Mode.SUBTRACT)


with BuildPart() as cirpattern3_tool:
    # CirPattern3: Cut-Extrude13 ×8 about axis
    cirpattern3_axis = Axis((0, 0, 0), (1, 0, 0))
    for i in range(1, CIRPATTERN3_COUNT):
        add(cut_extrude13.rotate(cirpattern3_axis, i * 360 / CIRPATTERN3_COUNT))


with BuildPart() as boss_extrude2_kept_piece_2:
    add(boss_extrude2_kept_piece_1.part)

    # CirPattern3: cut by cirpattern3_tool
    add(cirpattern3_tool.part, mode=Mode.SUBTRACT)

    # Sketch41 → Cut-Revolve2 (revolve, cut)
    with BuildSketch(Plane.XY, mode=Mode.PRIVATE) as cut_revolve2_sk:
        with BuildLine():
            Line((0, 37.338), (-2.1844, 37.338))
            ThreePointArc((-2.1844, 37.338), (-2.50768922, 37.47191078), (-2.6416, 37.7952))
            Line((-2.6416, 37.7952), (-2.6416, 40.9702))
            ThreePointArc((-2.6416, 40.9702), (-2.50768922, 41.29348922), (-2.1844, 41.4274))
            Line((-2.1844, 41.4274), (0, 41.4274))
            Line((0, 41.4274), (0, 37.338))
        make_face()
    revolve(cut_revolve2_sk.sketch.rotate(Axis((0, 0, 0), (1, 0, 0)), 90), axis=Axis((0, 0, 0), (1, 0, 0)), mode=Mode.SUBTRACT)


with BuildPart() as body_5_2:
    add(body_5_1.part)

    # CirPattern3: cut by cirpattern3_tool
    add(cirpattern3_tool.part, mode=Mode.SUBTRACT)


with BuildPart() as body_6:
    # Sketch44 → Revolve4 (revolve)
    with BuildSketch(Plane.XY, mode=Mode.PRIVATE) as revolve4_sk:
        with Locations((-0.8763, 39.6621)):
            Circle(SKETCH44_R)
    revolve(revolve4_sk.sketch.rotate(Axis((0, 0, 0), (1, 0, 0)), 90), axis=Axis((0, 0, 0), (1, 0, 0)))


with BuildPart() as body_7:
    # Mirror9: mirrored copy
    add(body_6.part.mirror(Plane(origin=(76.2, 0, 0), x_dir=(0, 0, 1), z_dir=(1, 0, 0))))


solid = Compound([body_3.part, body_3_2.part, body_4.part, boss_extrude2_kept_piece_2.part, body_5_2.part, body_6.part, body_7.part])
